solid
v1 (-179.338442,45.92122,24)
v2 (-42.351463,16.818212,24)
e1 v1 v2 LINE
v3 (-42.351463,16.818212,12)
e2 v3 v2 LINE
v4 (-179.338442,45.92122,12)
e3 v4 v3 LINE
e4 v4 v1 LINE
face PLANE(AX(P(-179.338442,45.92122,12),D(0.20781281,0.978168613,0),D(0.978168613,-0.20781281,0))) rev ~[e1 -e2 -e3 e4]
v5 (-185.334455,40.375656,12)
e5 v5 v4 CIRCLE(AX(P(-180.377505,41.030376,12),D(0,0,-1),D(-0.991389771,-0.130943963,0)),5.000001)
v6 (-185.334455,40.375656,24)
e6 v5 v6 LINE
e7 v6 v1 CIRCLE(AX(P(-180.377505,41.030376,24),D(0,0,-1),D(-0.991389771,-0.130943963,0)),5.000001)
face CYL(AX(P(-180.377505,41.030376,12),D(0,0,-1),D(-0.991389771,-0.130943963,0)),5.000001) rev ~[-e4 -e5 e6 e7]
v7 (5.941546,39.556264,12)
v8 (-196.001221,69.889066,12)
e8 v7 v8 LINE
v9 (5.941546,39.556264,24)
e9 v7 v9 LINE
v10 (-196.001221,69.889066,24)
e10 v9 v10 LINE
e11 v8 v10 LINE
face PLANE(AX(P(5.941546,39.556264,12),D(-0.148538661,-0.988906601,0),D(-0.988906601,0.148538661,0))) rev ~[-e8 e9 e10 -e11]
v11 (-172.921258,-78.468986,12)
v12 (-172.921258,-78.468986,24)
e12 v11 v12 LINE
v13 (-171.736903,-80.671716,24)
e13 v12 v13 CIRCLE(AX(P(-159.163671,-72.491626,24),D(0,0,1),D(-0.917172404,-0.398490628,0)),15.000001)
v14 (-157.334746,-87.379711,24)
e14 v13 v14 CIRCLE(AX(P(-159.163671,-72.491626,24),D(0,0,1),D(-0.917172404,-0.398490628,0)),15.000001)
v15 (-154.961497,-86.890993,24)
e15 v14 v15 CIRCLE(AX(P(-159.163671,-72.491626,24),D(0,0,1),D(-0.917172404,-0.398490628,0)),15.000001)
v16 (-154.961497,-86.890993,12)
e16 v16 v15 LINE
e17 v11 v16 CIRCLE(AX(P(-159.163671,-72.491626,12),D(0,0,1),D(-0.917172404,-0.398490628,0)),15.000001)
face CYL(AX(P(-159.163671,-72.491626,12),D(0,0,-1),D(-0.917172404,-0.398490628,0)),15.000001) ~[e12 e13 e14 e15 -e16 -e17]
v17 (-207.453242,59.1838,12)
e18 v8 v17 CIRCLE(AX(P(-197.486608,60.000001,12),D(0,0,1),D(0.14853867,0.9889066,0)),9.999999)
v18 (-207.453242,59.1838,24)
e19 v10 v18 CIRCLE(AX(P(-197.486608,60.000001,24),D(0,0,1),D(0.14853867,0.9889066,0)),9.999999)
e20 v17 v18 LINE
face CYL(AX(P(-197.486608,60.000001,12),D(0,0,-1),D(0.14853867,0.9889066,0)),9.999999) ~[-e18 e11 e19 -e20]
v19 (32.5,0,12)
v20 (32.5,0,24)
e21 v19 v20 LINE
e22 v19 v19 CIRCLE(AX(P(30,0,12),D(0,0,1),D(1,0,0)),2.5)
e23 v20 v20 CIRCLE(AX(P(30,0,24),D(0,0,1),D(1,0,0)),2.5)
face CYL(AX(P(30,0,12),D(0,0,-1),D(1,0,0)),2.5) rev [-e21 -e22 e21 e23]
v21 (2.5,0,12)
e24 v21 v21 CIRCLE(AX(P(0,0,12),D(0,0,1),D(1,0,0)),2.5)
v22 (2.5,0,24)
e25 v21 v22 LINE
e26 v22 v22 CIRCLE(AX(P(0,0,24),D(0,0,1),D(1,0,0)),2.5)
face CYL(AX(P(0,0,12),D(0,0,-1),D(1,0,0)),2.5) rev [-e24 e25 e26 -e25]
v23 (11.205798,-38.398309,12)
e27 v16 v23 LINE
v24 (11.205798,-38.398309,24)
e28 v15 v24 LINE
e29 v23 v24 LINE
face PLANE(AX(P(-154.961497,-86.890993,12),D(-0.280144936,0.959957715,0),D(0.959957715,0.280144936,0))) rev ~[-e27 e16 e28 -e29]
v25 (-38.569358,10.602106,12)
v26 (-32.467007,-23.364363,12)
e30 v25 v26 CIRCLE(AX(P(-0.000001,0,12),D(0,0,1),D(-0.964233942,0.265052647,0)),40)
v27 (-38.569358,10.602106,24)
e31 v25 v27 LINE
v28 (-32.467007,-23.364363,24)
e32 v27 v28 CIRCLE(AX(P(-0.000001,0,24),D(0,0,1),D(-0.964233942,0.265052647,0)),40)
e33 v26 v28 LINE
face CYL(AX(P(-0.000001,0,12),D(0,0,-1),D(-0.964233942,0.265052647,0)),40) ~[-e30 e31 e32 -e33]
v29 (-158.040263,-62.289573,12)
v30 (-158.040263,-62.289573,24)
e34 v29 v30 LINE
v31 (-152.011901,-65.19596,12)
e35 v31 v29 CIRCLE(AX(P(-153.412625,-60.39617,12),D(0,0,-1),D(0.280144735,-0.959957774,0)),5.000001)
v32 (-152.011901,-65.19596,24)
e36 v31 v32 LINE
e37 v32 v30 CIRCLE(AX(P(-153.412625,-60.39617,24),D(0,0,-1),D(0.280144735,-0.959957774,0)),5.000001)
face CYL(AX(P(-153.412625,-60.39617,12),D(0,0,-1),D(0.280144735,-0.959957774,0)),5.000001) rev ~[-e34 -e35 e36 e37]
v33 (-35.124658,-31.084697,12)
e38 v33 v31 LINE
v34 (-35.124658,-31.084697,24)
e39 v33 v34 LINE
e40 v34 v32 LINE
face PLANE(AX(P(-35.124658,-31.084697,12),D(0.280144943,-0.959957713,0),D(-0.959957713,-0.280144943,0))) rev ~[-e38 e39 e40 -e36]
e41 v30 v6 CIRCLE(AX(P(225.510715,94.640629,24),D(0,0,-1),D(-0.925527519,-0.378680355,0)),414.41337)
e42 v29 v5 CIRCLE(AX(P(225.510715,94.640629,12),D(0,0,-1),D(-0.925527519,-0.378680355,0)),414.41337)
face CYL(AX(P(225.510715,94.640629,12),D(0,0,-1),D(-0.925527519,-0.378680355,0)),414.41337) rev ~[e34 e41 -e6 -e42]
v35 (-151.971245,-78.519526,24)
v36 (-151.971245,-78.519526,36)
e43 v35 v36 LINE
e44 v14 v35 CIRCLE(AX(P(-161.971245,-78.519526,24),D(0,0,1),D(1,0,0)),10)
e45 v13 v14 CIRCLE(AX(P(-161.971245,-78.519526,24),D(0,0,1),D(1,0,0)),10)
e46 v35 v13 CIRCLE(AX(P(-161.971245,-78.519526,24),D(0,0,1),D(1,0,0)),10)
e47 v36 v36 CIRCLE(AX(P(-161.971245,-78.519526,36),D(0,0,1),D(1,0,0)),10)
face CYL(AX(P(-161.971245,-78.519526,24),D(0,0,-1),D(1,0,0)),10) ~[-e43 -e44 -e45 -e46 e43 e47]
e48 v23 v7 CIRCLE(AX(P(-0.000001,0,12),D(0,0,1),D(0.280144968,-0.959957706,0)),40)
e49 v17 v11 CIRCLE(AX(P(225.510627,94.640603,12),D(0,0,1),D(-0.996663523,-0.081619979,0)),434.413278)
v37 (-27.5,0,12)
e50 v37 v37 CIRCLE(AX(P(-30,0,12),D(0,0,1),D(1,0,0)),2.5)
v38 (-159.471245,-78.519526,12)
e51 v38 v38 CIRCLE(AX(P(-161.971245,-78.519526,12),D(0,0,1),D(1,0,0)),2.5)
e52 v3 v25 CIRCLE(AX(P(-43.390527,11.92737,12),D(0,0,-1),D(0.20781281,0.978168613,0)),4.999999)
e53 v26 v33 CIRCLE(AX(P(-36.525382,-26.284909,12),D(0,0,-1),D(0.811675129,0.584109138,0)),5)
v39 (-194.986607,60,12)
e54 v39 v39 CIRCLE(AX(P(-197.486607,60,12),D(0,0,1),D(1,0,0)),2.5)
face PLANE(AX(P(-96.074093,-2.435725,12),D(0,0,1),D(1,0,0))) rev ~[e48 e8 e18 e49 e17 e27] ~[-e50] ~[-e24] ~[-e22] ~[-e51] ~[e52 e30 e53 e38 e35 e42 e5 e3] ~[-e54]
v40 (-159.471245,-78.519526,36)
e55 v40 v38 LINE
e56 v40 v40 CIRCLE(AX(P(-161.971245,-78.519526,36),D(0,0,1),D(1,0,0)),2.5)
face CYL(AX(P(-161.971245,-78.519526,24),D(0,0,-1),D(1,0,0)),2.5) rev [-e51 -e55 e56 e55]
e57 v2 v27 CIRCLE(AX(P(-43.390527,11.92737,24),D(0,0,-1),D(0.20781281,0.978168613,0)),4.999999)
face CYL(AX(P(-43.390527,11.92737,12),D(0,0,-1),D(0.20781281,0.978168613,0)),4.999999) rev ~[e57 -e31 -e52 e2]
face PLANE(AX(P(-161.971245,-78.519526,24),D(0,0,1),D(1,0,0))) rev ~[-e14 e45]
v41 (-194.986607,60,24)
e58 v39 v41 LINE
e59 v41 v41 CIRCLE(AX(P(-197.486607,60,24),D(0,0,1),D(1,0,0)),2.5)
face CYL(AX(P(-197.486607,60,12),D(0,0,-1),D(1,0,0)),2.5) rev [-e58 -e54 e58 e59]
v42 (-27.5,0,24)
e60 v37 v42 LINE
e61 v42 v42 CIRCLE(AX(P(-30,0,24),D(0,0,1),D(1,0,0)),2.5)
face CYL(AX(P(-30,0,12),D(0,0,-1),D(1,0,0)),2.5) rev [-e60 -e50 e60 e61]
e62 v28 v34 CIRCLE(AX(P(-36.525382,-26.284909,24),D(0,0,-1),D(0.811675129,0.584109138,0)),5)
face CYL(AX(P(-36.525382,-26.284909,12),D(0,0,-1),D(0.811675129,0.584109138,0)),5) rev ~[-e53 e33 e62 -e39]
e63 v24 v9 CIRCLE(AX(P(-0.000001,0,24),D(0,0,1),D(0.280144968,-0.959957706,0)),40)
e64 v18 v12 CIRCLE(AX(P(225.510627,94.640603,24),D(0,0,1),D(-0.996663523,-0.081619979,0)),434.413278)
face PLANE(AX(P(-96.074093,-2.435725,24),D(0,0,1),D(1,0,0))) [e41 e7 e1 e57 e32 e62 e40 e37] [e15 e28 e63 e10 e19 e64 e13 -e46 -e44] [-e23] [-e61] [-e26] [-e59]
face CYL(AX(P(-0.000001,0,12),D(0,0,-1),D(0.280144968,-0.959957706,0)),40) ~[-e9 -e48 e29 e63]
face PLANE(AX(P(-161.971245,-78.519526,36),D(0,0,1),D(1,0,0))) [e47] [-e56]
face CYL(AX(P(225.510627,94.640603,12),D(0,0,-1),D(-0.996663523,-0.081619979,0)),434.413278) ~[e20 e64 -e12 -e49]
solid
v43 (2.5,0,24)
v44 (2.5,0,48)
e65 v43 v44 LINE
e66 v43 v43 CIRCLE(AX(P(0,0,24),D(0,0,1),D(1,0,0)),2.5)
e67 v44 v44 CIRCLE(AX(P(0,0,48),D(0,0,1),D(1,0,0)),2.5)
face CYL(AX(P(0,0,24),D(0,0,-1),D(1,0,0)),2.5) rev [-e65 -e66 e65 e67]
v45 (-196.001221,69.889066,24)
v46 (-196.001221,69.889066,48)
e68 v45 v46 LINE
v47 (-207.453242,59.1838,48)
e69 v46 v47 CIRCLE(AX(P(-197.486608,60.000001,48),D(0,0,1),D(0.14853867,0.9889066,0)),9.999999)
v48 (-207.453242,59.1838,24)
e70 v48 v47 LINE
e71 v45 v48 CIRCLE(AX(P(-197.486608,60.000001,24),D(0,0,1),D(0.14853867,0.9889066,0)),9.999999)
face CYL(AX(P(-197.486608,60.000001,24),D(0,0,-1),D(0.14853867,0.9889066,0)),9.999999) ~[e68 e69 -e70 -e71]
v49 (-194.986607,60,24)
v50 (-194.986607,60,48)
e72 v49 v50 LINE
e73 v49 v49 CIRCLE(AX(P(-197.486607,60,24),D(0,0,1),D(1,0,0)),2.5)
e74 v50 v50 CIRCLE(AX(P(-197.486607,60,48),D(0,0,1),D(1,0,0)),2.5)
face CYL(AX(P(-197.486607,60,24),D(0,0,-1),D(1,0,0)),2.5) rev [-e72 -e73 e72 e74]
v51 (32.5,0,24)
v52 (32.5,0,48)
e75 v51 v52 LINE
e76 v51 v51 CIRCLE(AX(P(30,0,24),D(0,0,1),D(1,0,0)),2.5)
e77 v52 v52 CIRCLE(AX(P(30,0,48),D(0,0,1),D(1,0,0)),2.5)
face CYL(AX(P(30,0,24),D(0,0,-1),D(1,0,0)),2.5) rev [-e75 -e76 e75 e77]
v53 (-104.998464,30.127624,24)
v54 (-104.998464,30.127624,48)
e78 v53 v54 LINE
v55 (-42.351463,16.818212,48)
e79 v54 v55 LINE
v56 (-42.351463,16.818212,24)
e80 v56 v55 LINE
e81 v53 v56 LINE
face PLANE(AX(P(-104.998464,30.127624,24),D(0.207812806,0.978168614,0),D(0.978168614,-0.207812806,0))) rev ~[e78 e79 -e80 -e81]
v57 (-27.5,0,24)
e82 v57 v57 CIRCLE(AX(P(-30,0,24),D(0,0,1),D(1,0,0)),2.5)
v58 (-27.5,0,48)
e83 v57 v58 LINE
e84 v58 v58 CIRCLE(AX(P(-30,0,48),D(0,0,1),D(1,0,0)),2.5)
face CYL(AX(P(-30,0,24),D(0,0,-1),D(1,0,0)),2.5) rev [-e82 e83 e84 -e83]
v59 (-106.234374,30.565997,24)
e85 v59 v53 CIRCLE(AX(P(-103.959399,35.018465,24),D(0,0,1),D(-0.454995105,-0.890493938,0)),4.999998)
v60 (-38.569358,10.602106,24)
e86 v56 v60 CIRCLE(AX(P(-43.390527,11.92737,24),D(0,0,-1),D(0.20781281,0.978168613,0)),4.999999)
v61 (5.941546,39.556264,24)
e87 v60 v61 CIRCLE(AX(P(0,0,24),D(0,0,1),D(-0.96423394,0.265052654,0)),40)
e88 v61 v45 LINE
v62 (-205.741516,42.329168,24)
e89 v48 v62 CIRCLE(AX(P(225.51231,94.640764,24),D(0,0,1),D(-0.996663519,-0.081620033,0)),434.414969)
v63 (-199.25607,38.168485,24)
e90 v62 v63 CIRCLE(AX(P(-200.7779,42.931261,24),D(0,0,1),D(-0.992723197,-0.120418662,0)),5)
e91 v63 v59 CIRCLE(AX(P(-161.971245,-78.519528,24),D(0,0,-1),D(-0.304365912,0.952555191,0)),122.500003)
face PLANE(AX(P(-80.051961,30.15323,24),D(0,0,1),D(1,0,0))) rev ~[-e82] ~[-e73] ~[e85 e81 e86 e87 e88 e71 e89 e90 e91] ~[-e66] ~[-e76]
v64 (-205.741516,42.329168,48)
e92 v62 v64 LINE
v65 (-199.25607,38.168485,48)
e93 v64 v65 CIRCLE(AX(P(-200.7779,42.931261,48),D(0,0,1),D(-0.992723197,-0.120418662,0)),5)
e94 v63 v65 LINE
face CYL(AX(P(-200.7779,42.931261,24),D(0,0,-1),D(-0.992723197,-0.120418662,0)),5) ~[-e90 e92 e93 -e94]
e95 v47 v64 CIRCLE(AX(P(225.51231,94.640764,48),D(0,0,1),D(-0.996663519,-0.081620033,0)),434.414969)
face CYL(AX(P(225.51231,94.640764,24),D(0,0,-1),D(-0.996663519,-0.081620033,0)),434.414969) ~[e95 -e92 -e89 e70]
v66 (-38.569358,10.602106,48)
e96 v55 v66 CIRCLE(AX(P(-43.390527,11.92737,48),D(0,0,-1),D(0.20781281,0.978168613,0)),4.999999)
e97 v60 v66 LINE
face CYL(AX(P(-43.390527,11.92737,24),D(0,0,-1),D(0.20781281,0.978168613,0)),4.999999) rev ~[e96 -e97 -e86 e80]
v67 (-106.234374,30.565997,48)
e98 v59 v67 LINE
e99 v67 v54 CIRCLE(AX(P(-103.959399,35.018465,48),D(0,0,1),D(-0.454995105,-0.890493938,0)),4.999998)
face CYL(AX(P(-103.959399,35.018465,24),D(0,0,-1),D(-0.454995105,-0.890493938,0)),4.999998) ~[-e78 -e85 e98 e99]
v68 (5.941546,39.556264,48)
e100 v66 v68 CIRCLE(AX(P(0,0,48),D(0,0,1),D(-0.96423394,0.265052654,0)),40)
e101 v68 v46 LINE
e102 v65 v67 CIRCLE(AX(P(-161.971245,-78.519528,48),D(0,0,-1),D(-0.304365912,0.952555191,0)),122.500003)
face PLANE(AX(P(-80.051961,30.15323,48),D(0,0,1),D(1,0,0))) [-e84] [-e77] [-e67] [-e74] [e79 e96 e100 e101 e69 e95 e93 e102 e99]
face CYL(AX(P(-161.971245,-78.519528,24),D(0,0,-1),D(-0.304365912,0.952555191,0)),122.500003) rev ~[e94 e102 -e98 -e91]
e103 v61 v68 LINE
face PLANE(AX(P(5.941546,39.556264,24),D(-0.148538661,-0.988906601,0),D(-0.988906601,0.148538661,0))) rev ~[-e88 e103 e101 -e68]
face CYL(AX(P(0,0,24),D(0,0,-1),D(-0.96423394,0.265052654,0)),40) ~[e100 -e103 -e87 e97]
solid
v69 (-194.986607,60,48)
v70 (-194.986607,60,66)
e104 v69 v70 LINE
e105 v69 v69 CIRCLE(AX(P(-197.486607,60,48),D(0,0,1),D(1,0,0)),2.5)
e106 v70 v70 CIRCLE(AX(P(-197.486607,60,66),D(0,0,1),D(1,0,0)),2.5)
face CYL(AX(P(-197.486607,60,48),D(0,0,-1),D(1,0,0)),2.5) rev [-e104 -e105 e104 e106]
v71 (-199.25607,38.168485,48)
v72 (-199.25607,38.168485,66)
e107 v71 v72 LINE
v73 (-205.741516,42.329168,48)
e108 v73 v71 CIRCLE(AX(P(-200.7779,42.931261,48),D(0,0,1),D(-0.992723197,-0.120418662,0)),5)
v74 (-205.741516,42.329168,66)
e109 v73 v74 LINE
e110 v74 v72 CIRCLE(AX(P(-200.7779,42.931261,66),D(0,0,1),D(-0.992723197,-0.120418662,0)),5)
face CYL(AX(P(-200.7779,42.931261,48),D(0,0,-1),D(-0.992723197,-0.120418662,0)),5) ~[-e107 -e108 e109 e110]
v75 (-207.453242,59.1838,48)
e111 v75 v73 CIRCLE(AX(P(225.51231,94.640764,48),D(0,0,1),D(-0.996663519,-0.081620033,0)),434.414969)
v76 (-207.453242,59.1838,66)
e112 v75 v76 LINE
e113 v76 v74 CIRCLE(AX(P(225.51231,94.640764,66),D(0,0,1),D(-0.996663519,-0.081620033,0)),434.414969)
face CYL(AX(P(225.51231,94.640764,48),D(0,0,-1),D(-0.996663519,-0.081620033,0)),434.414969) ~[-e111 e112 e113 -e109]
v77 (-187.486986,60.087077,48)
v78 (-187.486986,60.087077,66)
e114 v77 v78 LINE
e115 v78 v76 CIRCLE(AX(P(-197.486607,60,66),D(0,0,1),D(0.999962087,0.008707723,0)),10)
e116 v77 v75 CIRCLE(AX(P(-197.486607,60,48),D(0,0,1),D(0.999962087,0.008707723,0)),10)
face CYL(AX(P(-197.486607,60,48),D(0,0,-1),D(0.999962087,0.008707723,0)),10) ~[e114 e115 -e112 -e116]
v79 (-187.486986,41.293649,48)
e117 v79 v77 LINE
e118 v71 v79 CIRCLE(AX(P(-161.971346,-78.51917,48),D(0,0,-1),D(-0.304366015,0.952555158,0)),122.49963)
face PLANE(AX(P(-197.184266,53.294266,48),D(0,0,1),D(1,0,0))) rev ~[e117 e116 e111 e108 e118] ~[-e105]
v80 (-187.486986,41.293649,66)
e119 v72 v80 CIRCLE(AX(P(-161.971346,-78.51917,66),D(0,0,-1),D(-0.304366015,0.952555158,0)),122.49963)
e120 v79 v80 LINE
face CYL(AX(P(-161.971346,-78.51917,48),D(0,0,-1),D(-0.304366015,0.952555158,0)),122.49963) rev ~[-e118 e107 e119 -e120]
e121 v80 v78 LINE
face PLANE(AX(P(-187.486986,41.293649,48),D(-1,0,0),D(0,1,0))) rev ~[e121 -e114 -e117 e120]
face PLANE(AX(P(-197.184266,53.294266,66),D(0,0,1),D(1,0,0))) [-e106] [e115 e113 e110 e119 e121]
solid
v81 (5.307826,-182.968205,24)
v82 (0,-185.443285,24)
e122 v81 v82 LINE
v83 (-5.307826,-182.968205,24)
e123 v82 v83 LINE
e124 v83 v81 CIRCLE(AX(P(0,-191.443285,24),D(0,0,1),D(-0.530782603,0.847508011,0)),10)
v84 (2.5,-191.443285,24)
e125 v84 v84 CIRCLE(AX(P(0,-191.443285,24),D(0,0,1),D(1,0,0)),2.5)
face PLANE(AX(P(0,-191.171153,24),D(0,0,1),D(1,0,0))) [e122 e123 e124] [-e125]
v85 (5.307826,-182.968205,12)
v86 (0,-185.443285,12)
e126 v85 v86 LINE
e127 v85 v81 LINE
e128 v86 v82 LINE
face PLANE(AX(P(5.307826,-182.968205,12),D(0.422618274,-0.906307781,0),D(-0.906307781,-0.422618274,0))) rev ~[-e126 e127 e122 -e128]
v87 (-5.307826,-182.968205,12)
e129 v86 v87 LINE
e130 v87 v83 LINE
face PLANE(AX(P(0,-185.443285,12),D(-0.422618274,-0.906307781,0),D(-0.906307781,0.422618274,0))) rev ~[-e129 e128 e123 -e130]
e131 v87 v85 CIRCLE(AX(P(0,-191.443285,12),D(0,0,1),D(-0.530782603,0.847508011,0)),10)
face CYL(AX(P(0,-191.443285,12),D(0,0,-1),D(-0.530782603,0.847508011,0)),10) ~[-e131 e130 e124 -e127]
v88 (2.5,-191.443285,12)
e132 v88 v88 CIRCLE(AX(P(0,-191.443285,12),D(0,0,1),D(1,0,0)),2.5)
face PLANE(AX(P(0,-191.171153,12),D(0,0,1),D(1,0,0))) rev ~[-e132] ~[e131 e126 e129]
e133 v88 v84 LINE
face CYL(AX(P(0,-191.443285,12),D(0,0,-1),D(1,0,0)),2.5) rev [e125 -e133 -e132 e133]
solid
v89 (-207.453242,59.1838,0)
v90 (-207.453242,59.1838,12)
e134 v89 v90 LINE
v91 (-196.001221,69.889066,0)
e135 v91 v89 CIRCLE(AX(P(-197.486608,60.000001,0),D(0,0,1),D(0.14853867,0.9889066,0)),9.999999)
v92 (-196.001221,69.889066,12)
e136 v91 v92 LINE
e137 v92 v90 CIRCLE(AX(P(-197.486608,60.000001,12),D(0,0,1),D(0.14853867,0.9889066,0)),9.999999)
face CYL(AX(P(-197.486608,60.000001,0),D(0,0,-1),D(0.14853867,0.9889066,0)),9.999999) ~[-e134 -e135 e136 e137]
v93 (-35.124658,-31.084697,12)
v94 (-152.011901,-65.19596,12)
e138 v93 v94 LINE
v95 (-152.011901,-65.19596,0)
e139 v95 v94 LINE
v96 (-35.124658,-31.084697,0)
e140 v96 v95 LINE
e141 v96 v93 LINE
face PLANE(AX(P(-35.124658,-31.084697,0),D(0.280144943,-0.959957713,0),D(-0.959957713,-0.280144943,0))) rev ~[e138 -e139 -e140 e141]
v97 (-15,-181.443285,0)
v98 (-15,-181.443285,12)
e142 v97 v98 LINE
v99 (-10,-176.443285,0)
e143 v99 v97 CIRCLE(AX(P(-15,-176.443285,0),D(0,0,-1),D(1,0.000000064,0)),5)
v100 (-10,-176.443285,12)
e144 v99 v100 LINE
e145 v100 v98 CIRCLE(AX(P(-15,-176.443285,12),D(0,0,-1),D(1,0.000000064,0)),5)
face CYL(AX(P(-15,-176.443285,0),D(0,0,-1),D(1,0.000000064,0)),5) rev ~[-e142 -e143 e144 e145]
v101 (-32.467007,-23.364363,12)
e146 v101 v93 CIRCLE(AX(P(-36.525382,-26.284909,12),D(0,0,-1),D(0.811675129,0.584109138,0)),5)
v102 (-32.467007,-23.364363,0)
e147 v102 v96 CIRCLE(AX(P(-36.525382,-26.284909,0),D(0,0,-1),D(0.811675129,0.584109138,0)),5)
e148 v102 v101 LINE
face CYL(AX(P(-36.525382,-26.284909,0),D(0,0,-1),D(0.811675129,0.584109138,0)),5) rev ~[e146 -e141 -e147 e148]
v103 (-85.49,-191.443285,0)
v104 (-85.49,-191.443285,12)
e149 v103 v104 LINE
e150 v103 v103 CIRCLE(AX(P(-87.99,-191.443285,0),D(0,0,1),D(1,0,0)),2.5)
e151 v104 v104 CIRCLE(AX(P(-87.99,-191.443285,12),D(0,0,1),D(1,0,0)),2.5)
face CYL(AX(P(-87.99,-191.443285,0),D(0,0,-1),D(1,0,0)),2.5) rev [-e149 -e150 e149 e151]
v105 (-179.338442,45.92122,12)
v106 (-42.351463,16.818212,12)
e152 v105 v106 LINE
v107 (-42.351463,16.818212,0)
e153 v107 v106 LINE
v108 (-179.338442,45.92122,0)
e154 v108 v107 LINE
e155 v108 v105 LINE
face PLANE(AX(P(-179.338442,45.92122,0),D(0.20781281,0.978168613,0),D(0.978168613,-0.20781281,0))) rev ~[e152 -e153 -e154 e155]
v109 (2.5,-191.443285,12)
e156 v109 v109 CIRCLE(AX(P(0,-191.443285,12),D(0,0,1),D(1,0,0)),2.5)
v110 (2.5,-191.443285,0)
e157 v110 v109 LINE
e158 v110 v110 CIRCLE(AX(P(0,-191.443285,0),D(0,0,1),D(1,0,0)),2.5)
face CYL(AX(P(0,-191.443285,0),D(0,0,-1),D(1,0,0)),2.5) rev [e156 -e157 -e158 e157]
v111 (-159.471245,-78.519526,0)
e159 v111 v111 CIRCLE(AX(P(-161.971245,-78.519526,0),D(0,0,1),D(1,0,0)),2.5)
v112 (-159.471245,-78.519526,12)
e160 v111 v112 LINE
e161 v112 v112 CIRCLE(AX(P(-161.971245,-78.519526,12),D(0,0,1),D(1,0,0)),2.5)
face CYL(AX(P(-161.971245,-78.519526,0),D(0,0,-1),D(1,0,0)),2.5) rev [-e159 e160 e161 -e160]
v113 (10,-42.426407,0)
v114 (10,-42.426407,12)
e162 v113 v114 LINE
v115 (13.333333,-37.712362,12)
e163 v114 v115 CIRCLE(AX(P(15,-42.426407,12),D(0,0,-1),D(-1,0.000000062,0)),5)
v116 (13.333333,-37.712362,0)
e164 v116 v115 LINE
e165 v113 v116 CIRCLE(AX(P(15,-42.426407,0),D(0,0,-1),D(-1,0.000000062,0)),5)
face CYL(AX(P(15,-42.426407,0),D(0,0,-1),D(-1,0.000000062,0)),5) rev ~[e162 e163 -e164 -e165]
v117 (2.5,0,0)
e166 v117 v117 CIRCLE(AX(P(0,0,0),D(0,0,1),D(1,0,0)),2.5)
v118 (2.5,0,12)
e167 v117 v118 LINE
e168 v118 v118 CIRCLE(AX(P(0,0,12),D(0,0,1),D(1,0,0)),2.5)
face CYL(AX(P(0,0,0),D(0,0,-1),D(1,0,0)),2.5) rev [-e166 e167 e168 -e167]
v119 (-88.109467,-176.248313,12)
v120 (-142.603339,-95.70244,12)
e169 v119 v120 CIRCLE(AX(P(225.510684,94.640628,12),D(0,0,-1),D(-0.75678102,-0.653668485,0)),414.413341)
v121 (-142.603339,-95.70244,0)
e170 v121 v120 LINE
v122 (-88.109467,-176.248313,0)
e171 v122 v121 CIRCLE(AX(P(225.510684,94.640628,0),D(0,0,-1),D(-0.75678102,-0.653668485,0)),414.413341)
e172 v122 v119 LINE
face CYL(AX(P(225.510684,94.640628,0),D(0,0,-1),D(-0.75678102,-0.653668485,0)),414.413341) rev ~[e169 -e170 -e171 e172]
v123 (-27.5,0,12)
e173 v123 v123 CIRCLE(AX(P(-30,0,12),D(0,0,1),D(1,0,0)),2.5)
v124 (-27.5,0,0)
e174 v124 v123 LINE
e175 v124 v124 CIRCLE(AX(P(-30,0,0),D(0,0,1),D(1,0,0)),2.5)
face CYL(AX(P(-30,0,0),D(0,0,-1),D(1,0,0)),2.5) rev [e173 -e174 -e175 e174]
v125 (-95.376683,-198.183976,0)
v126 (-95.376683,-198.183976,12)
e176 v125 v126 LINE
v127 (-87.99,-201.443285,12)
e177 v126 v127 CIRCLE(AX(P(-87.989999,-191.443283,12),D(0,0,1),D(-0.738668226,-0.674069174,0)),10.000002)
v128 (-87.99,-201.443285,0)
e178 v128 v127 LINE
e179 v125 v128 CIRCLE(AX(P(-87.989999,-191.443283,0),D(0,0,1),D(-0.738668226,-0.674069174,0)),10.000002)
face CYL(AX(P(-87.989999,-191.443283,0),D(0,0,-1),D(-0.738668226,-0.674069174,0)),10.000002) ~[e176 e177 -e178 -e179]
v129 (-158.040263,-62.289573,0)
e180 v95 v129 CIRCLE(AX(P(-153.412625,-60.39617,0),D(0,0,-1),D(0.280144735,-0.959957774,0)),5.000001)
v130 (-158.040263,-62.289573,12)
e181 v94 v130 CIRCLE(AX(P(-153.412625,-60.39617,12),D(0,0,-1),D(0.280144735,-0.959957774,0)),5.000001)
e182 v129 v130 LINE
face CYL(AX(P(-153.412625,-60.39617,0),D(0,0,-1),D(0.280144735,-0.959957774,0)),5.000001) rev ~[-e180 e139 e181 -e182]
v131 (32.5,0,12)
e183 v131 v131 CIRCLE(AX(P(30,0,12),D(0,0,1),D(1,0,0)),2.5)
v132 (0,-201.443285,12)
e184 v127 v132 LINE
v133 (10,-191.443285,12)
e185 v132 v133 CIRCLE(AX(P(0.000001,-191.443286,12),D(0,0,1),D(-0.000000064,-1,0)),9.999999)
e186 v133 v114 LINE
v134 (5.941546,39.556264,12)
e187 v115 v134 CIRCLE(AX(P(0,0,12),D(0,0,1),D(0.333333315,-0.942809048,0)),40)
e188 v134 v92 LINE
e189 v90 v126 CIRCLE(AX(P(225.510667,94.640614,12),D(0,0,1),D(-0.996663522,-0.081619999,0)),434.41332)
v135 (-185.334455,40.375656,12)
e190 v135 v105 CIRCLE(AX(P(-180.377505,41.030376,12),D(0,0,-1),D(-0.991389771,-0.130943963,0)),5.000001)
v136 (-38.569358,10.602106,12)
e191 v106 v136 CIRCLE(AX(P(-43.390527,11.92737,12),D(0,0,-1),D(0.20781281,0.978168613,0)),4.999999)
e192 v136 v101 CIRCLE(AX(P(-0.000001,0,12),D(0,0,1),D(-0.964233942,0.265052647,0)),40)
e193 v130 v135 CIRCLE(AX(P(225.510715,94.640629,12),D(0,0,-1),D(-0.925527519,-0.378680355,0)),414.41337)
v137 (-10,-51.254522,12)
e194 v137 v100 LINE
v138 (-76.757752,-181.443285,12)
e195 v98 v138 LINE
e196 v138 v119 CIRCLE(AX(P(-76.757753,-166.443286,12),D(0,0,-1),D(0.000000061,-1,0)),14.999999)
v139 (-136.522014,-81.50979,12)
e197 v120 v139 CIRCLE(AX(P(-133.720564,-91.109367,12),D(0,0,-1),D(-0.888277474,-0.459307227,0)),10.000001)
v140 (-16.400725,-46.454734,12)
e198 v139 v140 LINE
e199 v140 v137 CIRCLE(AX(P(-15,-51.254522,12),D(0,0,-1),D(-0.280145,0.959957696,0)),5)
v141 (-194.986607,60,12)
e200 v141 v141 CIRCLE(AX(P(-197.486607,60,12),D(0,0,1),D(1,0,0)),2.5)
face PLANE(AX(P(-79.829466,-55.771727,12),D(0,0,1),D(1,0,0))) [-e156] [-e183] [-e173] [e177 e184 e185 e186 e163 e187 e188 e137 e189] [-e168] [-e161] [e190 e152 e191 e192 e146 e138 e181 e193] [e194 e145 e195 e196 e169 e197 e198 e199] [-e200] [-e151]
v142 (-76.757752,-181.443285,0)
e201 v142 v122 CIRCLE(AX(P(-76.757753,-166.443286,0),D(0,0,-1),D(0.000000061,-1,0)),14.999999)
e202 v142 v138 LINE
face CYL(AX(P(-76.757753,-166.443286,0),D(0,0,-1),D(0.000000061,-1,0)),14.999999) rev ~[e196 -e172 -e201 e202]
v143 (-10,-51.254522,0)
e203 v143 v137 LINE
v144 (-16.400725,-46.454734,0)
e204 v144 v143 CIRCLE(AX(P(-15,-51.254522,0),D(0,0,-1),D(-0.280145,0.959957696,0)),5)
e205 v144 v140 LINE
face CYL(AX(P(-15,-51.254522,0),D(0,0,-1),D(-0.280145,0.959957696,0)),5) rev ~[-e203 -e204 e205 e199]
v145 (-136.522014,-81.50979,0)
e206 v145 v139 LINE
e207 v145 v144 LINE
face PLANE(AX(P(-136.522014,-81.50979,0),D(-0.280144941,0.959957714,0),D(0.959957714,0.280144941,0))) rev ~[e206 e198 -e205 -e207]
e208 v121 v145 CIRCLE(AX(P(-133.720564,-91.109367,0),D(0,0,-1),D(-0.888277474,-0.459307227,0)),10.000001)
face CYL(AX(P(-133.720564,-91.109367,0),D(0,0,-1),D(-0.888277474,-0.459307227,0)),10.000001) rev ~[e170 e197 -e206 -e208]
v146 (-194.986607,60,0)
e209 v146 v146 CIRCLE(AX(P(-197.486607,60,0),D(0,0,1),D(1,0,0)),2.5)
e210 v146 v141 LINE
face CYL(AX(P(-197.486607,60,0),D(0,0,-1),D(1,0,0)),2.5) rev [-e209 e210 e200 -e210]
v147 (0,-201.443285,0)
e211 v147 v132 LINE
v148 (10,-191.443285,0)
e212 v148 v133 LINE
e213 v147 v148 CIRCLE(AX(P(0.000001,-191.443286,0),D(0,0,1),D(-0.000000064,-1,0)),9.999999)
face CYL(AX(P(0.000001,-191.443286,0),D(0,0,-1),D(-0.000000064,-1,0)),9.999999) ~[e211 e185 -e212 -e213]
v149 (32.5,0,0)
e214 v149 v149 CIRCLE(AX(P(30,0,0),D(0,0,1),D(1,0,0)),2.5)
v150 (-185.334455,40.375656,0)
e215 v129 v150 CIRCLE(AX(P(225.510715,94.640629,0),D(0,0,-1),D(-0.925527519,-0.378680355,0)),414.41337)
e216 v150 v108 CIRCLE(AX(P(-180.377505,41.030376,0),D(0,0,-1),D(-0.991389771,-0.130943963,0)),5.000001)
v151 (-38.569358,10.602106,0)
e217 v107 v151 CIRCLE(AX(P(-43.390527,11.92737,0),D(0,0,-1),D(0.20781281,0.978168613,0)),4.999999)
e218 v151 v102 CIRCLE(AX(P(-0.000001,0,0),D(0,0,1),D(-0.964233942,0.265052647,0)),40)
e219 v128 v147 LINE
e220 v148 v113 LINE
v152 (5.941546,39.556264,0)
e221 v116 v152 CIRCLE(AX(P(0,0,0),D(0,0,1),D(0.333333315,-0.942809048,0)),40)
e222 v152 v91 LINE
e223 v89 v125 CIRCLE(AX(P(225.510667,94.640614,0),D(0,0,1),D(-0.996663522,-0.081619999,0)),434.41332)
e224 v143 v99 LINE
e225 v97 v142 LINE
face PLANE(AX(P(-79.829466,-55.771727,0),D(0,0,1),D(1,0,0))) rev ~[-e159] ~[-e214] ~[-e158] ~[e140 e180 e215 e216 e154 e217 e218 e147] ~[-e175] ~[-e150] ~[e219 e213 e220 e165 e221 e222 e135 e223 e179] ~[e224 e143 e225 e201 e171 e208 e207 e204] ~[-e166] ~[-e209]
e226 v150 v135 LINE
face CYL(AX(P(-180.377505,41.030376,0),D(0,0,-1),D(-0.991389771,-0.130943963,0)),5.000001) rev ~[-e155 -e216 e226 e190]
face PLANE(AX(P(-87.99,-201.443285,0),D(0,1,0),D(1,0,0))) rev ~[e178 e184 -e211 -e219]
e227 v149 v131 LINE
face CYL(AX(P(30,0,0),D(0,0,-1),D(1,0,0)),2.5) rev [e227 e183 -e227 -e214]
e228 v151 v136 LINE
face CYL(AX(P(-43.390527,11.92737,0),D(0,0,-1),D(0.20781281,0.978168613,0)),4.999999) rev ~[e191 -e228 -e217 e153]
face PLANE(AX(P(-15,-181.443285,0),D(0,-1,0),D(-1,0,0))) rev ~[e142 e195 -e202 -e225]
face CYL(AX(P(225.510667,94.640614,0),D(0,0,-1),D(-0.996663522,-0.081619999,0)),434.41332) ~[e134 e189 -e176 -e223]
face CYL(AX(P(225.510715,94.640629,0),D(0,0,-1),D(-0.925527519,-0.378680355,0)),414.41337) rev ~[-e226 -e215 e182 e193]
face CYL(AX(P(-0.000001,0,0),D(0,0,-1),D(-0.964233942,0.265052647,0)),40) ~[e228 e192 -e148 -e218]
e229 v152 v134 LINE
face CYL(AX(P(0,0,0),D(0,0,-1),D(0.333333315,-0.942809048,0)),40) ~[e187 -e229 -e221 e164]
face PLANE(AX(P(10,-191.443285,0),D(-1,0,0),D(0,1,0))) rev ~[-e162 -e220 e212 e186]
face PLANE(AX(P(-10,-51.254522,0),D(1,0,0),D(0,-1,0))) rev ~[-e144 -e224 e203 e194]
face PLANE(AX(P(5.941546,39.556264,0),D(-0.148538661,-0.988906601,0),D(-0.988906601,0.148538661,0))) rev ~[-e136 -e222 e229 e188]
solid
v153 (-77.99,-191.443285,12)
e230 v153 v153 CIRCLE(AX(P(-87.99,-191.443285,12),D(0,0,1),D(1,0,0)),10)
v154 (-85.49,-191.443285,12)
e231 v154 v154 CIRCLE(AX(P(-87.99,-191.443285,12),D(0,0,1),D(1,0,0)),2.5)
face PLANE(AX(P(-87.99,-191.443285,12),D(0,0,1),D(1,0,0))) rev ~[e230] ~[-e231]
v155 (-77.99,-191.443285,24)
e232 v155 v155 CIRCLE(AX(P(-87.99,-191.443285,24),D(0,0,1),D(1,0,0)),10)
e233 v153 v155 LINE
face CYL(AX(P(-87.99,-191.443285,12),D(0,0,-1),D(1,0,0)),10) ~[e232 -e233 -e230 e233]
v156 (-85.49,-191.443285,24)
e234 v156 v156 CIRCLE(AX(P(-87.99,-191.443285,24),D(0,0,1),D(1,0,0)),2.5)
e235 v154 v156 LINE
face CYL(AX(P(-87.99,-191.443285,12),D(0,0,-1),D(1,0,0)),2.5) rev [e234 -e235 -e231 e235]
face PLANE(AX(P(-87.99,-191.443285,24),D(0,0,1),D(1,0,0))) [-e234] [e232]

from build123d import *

# Parameters (mm, degrees)
F0_R      = 2.5
F1_DEPTH  = 12
F2_R      = 2.5
F3_DEPTH  = 12
F4_R      = 2.5
F5_DEPTH  = 24
F6_R      = 2.5
F6_R_2    = 10
F7_DEPTH  = 12
F8_R      = 2.5
F9_DEPTH  = 18
F10_R     = 10
F10_R_2   = 2.5
F11_DEPTH = 12


with BuildPart() as f1:
    # F0 (on Top) → F1 (new body)
    with BuildSketch(Plane.XY):
        with BuildLine():
            Line((-87.99, -201.443285), (0, -201.443285))
            ThreePointArc((0, -201.443285), (7.071068, -198.514353), (10, -191.443285))
            Line((10, -191.443285), (10, -42.426407))
            ThreePointArc((10, -42.426407), (10.917517, -39.539656), (13.333333, -37.712362))
            ThreePointArc((13.333333, -37.712362), (39.818217, 3.80915), (5.941546, 39.556264))
            Line((5.941546, 39.556264), (-196.001221, 69.889066))
            ThreePointArc((-196.001221, 69.889066), (-204.315485, 67.305233), (-207.453242, 59.1838))
            ThreePointArc((-207.453242, 59.1838), (-172.776256, -78.802342), (-95.376683, -198.183976))
            ThreePointArc((-95.376683, -198.183976), (-92.026898, -200.592244), (-87.99, -201.443285))
        make_face()
        with Locations((-87.99, -191.443285)):
            Circle(F0_R, mode=Mode.SUBTRACT)
        with Locations((-161.971245, -78.519526)):
            Circle(F0_R, mode=Mode.SUBTRACT)
        with Locations((0, -191.443285)):
            Circle(F0_R, mode=Mode.SUBTRACT)
        with BuildLine():
            ThreePointArc((-16.400725, -46.454734), (-12.000302, -47.254296), (-10, -51.254522))
            Line((-10, -51.254522), (-10, -176.443285))
            ThreePointArc((-10, -176.443285), (-11.464466, -179.978819), (-15, -181.443285))
            Line((-15, -181.443285), (-76.757752, -181.443285))
            ThreePointArc((-76.757752, -181.443285), (-82.999731, -180.082849), (-88.109467, -176.248313))
            ThreePointArc((-88.109467, -176.248313), (-117.727252, -137.57939), (-142.603339, -95.70244))
            ThreePointArc((-142.603339, -95.70244), (-142.912305, -87.170852), (-136.522014, -81.50979))
            Line((-136.522014, -81.50979), (-16.400725, -46.454734))
        make_face(mode=Mode.SUBTRACT)
        with BuildLine():
            ThreePointArc((-42.351463, 16.818212), (-39.119043, 14.526296), (-38.569358, 10.602106))
            ThreePointArc((-38.569358, 10.602106), (-39.369678, -7.073081), (-32.467007, -23.364363))
            ThreePointArc((-32.467007, -23.364363), (-31.797663, -27.912381), (-35.124658, -31.084697))
            Line((-35.124658, -31.084697), (-152.011901, -65.19596))
            ThreePointArc((-152.011901, -65.19596), (-155.584033, -64.900057), (-158.040263, -62.289573))
            ThreePointArc((-158.040263, -62.289573), (-174.990655, -11.83516), (-185.334455, 40.375656))
            ThreePointArc((-185.334455, 40.375656), (-183.772469, 44.701102), (-179.338442, 45.92122))
            Line((-179.338442, 45.92122), (-42.351463, 16.818212))
        make_face(mode=Mode.SUBTRACT)
        with Locations((-197.486607, 60)):
            Circle(F0_R, mode=Mode.SUBTRACT)
        with Locations((-30, 0)):
            Circle(F0_R, mode=Mode.SUBTRACT)
        Circle(F0_R, mode=Mode.SUBTRACT)
        with Locations((30, 0)):
            Circle(F0_R, mode=Mode.SUBTRACT)
    extrude(amount=F1_DEPTH)


with BuildPart() as f3:
    # F2 (on face) → F3 (new body)
    with BuildSketch(Plane.XY.offset(12)):
        with BuildLine():
            ThreePointArc((-196.001221, 69.889066), (-204.315485, 67.305233), (-207.453242, 59.1838))
            ThreePointArc((-207.453242, 59.1838), (-195.846463, -11.06228), (-172.921258, -78.468986))
            ThreePointArc((-172.921258, -78.468986), (-165.532268, -86.072532), (-154.961497, -86.890993))
            Line((-154.961497, -86.890993), (11.205798, -38.398309))
            ThreePointArc((11.205798, -38.398309), (39.909105, 2.695051), (5.941546, 39.556264))
            Line((5.941546, 39.556264), (-196.001221, 69.889066))
        make_face()
        with Locations((-161.971245, -78.519526)):
            Circle(F2_R, mode=Mode.SUBTRACT)
        with BuildLine():
            ThreePointArc((-158.040263, -62.289573), (-174.990655, -11.83516), (-185.334455, 40.375656))
            ThreePointArc((-185.334455, 40.375656), (-183.772469, 44.701102), (-179.338442, 45.92122))
            Line((-179.338442, 45.92122), (-42.351463, 16.818212))
            ThreePointArc((-42.351463, 16.818212), (-39.119043, 14.526296), (-38.569358, 10.602106))
            ThreePointArc((-38.569358, 10.602106), (-39.369678, -7.073081), (-32.467007, -23.364363))
            ThreePointArc((-32.467007, -23.364363), (-31.797663, -27.912381), (-35.124658, -31.084697))
            Line((-35.124658, -31.084697), (-152.011901, -65.19596))
            ThreePointArc((-152.011901, -65.19596), (-155.584033, -64.900057), (-158.040263, -62.289573))
        make_face(mode=Mode.SUBTRACT)
        with Locations((-197.486607, 60)):
            Circle(F2_R, mode=Mode.SUBTRACT)
        with Locations((-30, 0)):
            Circle(F2_R, mode=Mode.SUBTRACT)
        Circle(F2_R, mode=Mode.SUBTRACT)
        with Locations((30, 0)):
            Circle(F2_R, mode=Mode.SUBTRACT)
    extrude(amount=F3_DEPTH)

    # F10 (on face) → F11 (join)
    with BuildSketch(Plane.XY.offset(24)):
        with Locations((-161.971245, -78.519526)):
            Circle(F10_R)
        with Locations((-161.971245, -78.519526)):
            Circle(F10_R_2, mode=Mode.SUBTRACT)
    extrude(amount=F11_DEPTH)


with BuildPart() as f5:
    # F4 (on face) → F5 (new body)
    with BuildSketch(Plane.XY.offset(24)):
        with BuildLine():
            ThreePointArc((-199.25607, 38.168485), (-151.992821, 43.573394), (-106.234374, 30.565997))
            ThreePointArc((-106.234374, 30.565997), (-105.630853, 30.306117), (-104.998464, 30.127624))
            Line((-104.998464, 30.127624), (-42.351463, 16.818212))
            ThreePointArc((-42.351463, 16.818212), (-39.119043, 14.526296), (-38.569358, 10.602106))
            ThreePointArc((-38.569358, 10.602106), (21.81122, -33.530146), (5.941546, 39.556264))
            Line((5.941546, 39.556264), (-196.001221, 69.889066))
            ThreePointArc((-196.001221, 69.889066), (-204.315485, 67.305233), (-207.453242, 59.1838))
            ThreePointArc((-207.453242, 59.1838), (-206.679549, 50.748139), (-205.741516, 42.329168))
            ThreePointArc((-205.741516, 42.329168), (-203.477769, 38.722852), (-199.25607, 38.168485))
        make_face()
        with Locations((-30, 0)):
            Circle(F4_R, mode=Mode.SUBTRACT)
        Circle(F4_R, mode=Mode.SUBTRACT)
        with Locations((30, 0)):
            Circle(F4_R, mode=Mode.SUBTRACT)
        with Locations((-197.486607, 60)):
            Circle(F4_R, mode=Mode.SUBTRACT)
    extrude(amount=F5_DEPTH)


with BuildPart() as f7:
    # F6 (on face) → F7 (new body)
    with BuildSketch(Plane.XY.offset(12)):
        with BuildLine():
            Line((0, -185.443285), (-5.307826, -182.968205))
            ThreePointArc((-5.307826, -182.968205), (0, -201.443285), (5.307826, -182.968205))
            Line((5.307826, -182.968205), (0, -185.443285))
        make_face()
        with Locations((0, -191.443285)):
            Circle(F6_R, mode=Mode.SUBTRACT)
        with Locations((-87.99, -191.443285)):
            Circle(F6_R_2)
        with Locations((-87.99, -191.443285)):
            Circle(F6_R, mode=Mode.SUBTRACT)
    extrude(amount=F7_DEPTH)


with BuildPart() as f9:
    # F8 (on face) → F9 (new body)
    with BuildSketch(Plane.XY.offset(48)):
        with BuildLine():
            ThreePointArc((-187.486986, 60.087077), (-197.938547, 69.989782), (-207.453242, 59.1838))
            ThreePointArc((-207.453242, 59.1838), (-206.679549, 50.748139), (-205.741516, 42.329168))
            ThreePointArc((-205.741516, 42.329168), (-203.477769, 38.722852), (-199.25607, 38.168485))
            ThreePointArc((-199.25607, 38.168485), (-193.410384, 39.877394), (-187.486986, 41.293649))
            Line((-187.486986, 41.293649), (-187.486986, 60.087077))
        make_face()
        with Locations((-197.486607, 60)):
            Circle(F8_R, mode=Mode.SUBTRACT)
    extrude(amount=F9_DEPTH)


solid = Compound([f1.part, f3.part, f5.part, f7.part, f9.part])
